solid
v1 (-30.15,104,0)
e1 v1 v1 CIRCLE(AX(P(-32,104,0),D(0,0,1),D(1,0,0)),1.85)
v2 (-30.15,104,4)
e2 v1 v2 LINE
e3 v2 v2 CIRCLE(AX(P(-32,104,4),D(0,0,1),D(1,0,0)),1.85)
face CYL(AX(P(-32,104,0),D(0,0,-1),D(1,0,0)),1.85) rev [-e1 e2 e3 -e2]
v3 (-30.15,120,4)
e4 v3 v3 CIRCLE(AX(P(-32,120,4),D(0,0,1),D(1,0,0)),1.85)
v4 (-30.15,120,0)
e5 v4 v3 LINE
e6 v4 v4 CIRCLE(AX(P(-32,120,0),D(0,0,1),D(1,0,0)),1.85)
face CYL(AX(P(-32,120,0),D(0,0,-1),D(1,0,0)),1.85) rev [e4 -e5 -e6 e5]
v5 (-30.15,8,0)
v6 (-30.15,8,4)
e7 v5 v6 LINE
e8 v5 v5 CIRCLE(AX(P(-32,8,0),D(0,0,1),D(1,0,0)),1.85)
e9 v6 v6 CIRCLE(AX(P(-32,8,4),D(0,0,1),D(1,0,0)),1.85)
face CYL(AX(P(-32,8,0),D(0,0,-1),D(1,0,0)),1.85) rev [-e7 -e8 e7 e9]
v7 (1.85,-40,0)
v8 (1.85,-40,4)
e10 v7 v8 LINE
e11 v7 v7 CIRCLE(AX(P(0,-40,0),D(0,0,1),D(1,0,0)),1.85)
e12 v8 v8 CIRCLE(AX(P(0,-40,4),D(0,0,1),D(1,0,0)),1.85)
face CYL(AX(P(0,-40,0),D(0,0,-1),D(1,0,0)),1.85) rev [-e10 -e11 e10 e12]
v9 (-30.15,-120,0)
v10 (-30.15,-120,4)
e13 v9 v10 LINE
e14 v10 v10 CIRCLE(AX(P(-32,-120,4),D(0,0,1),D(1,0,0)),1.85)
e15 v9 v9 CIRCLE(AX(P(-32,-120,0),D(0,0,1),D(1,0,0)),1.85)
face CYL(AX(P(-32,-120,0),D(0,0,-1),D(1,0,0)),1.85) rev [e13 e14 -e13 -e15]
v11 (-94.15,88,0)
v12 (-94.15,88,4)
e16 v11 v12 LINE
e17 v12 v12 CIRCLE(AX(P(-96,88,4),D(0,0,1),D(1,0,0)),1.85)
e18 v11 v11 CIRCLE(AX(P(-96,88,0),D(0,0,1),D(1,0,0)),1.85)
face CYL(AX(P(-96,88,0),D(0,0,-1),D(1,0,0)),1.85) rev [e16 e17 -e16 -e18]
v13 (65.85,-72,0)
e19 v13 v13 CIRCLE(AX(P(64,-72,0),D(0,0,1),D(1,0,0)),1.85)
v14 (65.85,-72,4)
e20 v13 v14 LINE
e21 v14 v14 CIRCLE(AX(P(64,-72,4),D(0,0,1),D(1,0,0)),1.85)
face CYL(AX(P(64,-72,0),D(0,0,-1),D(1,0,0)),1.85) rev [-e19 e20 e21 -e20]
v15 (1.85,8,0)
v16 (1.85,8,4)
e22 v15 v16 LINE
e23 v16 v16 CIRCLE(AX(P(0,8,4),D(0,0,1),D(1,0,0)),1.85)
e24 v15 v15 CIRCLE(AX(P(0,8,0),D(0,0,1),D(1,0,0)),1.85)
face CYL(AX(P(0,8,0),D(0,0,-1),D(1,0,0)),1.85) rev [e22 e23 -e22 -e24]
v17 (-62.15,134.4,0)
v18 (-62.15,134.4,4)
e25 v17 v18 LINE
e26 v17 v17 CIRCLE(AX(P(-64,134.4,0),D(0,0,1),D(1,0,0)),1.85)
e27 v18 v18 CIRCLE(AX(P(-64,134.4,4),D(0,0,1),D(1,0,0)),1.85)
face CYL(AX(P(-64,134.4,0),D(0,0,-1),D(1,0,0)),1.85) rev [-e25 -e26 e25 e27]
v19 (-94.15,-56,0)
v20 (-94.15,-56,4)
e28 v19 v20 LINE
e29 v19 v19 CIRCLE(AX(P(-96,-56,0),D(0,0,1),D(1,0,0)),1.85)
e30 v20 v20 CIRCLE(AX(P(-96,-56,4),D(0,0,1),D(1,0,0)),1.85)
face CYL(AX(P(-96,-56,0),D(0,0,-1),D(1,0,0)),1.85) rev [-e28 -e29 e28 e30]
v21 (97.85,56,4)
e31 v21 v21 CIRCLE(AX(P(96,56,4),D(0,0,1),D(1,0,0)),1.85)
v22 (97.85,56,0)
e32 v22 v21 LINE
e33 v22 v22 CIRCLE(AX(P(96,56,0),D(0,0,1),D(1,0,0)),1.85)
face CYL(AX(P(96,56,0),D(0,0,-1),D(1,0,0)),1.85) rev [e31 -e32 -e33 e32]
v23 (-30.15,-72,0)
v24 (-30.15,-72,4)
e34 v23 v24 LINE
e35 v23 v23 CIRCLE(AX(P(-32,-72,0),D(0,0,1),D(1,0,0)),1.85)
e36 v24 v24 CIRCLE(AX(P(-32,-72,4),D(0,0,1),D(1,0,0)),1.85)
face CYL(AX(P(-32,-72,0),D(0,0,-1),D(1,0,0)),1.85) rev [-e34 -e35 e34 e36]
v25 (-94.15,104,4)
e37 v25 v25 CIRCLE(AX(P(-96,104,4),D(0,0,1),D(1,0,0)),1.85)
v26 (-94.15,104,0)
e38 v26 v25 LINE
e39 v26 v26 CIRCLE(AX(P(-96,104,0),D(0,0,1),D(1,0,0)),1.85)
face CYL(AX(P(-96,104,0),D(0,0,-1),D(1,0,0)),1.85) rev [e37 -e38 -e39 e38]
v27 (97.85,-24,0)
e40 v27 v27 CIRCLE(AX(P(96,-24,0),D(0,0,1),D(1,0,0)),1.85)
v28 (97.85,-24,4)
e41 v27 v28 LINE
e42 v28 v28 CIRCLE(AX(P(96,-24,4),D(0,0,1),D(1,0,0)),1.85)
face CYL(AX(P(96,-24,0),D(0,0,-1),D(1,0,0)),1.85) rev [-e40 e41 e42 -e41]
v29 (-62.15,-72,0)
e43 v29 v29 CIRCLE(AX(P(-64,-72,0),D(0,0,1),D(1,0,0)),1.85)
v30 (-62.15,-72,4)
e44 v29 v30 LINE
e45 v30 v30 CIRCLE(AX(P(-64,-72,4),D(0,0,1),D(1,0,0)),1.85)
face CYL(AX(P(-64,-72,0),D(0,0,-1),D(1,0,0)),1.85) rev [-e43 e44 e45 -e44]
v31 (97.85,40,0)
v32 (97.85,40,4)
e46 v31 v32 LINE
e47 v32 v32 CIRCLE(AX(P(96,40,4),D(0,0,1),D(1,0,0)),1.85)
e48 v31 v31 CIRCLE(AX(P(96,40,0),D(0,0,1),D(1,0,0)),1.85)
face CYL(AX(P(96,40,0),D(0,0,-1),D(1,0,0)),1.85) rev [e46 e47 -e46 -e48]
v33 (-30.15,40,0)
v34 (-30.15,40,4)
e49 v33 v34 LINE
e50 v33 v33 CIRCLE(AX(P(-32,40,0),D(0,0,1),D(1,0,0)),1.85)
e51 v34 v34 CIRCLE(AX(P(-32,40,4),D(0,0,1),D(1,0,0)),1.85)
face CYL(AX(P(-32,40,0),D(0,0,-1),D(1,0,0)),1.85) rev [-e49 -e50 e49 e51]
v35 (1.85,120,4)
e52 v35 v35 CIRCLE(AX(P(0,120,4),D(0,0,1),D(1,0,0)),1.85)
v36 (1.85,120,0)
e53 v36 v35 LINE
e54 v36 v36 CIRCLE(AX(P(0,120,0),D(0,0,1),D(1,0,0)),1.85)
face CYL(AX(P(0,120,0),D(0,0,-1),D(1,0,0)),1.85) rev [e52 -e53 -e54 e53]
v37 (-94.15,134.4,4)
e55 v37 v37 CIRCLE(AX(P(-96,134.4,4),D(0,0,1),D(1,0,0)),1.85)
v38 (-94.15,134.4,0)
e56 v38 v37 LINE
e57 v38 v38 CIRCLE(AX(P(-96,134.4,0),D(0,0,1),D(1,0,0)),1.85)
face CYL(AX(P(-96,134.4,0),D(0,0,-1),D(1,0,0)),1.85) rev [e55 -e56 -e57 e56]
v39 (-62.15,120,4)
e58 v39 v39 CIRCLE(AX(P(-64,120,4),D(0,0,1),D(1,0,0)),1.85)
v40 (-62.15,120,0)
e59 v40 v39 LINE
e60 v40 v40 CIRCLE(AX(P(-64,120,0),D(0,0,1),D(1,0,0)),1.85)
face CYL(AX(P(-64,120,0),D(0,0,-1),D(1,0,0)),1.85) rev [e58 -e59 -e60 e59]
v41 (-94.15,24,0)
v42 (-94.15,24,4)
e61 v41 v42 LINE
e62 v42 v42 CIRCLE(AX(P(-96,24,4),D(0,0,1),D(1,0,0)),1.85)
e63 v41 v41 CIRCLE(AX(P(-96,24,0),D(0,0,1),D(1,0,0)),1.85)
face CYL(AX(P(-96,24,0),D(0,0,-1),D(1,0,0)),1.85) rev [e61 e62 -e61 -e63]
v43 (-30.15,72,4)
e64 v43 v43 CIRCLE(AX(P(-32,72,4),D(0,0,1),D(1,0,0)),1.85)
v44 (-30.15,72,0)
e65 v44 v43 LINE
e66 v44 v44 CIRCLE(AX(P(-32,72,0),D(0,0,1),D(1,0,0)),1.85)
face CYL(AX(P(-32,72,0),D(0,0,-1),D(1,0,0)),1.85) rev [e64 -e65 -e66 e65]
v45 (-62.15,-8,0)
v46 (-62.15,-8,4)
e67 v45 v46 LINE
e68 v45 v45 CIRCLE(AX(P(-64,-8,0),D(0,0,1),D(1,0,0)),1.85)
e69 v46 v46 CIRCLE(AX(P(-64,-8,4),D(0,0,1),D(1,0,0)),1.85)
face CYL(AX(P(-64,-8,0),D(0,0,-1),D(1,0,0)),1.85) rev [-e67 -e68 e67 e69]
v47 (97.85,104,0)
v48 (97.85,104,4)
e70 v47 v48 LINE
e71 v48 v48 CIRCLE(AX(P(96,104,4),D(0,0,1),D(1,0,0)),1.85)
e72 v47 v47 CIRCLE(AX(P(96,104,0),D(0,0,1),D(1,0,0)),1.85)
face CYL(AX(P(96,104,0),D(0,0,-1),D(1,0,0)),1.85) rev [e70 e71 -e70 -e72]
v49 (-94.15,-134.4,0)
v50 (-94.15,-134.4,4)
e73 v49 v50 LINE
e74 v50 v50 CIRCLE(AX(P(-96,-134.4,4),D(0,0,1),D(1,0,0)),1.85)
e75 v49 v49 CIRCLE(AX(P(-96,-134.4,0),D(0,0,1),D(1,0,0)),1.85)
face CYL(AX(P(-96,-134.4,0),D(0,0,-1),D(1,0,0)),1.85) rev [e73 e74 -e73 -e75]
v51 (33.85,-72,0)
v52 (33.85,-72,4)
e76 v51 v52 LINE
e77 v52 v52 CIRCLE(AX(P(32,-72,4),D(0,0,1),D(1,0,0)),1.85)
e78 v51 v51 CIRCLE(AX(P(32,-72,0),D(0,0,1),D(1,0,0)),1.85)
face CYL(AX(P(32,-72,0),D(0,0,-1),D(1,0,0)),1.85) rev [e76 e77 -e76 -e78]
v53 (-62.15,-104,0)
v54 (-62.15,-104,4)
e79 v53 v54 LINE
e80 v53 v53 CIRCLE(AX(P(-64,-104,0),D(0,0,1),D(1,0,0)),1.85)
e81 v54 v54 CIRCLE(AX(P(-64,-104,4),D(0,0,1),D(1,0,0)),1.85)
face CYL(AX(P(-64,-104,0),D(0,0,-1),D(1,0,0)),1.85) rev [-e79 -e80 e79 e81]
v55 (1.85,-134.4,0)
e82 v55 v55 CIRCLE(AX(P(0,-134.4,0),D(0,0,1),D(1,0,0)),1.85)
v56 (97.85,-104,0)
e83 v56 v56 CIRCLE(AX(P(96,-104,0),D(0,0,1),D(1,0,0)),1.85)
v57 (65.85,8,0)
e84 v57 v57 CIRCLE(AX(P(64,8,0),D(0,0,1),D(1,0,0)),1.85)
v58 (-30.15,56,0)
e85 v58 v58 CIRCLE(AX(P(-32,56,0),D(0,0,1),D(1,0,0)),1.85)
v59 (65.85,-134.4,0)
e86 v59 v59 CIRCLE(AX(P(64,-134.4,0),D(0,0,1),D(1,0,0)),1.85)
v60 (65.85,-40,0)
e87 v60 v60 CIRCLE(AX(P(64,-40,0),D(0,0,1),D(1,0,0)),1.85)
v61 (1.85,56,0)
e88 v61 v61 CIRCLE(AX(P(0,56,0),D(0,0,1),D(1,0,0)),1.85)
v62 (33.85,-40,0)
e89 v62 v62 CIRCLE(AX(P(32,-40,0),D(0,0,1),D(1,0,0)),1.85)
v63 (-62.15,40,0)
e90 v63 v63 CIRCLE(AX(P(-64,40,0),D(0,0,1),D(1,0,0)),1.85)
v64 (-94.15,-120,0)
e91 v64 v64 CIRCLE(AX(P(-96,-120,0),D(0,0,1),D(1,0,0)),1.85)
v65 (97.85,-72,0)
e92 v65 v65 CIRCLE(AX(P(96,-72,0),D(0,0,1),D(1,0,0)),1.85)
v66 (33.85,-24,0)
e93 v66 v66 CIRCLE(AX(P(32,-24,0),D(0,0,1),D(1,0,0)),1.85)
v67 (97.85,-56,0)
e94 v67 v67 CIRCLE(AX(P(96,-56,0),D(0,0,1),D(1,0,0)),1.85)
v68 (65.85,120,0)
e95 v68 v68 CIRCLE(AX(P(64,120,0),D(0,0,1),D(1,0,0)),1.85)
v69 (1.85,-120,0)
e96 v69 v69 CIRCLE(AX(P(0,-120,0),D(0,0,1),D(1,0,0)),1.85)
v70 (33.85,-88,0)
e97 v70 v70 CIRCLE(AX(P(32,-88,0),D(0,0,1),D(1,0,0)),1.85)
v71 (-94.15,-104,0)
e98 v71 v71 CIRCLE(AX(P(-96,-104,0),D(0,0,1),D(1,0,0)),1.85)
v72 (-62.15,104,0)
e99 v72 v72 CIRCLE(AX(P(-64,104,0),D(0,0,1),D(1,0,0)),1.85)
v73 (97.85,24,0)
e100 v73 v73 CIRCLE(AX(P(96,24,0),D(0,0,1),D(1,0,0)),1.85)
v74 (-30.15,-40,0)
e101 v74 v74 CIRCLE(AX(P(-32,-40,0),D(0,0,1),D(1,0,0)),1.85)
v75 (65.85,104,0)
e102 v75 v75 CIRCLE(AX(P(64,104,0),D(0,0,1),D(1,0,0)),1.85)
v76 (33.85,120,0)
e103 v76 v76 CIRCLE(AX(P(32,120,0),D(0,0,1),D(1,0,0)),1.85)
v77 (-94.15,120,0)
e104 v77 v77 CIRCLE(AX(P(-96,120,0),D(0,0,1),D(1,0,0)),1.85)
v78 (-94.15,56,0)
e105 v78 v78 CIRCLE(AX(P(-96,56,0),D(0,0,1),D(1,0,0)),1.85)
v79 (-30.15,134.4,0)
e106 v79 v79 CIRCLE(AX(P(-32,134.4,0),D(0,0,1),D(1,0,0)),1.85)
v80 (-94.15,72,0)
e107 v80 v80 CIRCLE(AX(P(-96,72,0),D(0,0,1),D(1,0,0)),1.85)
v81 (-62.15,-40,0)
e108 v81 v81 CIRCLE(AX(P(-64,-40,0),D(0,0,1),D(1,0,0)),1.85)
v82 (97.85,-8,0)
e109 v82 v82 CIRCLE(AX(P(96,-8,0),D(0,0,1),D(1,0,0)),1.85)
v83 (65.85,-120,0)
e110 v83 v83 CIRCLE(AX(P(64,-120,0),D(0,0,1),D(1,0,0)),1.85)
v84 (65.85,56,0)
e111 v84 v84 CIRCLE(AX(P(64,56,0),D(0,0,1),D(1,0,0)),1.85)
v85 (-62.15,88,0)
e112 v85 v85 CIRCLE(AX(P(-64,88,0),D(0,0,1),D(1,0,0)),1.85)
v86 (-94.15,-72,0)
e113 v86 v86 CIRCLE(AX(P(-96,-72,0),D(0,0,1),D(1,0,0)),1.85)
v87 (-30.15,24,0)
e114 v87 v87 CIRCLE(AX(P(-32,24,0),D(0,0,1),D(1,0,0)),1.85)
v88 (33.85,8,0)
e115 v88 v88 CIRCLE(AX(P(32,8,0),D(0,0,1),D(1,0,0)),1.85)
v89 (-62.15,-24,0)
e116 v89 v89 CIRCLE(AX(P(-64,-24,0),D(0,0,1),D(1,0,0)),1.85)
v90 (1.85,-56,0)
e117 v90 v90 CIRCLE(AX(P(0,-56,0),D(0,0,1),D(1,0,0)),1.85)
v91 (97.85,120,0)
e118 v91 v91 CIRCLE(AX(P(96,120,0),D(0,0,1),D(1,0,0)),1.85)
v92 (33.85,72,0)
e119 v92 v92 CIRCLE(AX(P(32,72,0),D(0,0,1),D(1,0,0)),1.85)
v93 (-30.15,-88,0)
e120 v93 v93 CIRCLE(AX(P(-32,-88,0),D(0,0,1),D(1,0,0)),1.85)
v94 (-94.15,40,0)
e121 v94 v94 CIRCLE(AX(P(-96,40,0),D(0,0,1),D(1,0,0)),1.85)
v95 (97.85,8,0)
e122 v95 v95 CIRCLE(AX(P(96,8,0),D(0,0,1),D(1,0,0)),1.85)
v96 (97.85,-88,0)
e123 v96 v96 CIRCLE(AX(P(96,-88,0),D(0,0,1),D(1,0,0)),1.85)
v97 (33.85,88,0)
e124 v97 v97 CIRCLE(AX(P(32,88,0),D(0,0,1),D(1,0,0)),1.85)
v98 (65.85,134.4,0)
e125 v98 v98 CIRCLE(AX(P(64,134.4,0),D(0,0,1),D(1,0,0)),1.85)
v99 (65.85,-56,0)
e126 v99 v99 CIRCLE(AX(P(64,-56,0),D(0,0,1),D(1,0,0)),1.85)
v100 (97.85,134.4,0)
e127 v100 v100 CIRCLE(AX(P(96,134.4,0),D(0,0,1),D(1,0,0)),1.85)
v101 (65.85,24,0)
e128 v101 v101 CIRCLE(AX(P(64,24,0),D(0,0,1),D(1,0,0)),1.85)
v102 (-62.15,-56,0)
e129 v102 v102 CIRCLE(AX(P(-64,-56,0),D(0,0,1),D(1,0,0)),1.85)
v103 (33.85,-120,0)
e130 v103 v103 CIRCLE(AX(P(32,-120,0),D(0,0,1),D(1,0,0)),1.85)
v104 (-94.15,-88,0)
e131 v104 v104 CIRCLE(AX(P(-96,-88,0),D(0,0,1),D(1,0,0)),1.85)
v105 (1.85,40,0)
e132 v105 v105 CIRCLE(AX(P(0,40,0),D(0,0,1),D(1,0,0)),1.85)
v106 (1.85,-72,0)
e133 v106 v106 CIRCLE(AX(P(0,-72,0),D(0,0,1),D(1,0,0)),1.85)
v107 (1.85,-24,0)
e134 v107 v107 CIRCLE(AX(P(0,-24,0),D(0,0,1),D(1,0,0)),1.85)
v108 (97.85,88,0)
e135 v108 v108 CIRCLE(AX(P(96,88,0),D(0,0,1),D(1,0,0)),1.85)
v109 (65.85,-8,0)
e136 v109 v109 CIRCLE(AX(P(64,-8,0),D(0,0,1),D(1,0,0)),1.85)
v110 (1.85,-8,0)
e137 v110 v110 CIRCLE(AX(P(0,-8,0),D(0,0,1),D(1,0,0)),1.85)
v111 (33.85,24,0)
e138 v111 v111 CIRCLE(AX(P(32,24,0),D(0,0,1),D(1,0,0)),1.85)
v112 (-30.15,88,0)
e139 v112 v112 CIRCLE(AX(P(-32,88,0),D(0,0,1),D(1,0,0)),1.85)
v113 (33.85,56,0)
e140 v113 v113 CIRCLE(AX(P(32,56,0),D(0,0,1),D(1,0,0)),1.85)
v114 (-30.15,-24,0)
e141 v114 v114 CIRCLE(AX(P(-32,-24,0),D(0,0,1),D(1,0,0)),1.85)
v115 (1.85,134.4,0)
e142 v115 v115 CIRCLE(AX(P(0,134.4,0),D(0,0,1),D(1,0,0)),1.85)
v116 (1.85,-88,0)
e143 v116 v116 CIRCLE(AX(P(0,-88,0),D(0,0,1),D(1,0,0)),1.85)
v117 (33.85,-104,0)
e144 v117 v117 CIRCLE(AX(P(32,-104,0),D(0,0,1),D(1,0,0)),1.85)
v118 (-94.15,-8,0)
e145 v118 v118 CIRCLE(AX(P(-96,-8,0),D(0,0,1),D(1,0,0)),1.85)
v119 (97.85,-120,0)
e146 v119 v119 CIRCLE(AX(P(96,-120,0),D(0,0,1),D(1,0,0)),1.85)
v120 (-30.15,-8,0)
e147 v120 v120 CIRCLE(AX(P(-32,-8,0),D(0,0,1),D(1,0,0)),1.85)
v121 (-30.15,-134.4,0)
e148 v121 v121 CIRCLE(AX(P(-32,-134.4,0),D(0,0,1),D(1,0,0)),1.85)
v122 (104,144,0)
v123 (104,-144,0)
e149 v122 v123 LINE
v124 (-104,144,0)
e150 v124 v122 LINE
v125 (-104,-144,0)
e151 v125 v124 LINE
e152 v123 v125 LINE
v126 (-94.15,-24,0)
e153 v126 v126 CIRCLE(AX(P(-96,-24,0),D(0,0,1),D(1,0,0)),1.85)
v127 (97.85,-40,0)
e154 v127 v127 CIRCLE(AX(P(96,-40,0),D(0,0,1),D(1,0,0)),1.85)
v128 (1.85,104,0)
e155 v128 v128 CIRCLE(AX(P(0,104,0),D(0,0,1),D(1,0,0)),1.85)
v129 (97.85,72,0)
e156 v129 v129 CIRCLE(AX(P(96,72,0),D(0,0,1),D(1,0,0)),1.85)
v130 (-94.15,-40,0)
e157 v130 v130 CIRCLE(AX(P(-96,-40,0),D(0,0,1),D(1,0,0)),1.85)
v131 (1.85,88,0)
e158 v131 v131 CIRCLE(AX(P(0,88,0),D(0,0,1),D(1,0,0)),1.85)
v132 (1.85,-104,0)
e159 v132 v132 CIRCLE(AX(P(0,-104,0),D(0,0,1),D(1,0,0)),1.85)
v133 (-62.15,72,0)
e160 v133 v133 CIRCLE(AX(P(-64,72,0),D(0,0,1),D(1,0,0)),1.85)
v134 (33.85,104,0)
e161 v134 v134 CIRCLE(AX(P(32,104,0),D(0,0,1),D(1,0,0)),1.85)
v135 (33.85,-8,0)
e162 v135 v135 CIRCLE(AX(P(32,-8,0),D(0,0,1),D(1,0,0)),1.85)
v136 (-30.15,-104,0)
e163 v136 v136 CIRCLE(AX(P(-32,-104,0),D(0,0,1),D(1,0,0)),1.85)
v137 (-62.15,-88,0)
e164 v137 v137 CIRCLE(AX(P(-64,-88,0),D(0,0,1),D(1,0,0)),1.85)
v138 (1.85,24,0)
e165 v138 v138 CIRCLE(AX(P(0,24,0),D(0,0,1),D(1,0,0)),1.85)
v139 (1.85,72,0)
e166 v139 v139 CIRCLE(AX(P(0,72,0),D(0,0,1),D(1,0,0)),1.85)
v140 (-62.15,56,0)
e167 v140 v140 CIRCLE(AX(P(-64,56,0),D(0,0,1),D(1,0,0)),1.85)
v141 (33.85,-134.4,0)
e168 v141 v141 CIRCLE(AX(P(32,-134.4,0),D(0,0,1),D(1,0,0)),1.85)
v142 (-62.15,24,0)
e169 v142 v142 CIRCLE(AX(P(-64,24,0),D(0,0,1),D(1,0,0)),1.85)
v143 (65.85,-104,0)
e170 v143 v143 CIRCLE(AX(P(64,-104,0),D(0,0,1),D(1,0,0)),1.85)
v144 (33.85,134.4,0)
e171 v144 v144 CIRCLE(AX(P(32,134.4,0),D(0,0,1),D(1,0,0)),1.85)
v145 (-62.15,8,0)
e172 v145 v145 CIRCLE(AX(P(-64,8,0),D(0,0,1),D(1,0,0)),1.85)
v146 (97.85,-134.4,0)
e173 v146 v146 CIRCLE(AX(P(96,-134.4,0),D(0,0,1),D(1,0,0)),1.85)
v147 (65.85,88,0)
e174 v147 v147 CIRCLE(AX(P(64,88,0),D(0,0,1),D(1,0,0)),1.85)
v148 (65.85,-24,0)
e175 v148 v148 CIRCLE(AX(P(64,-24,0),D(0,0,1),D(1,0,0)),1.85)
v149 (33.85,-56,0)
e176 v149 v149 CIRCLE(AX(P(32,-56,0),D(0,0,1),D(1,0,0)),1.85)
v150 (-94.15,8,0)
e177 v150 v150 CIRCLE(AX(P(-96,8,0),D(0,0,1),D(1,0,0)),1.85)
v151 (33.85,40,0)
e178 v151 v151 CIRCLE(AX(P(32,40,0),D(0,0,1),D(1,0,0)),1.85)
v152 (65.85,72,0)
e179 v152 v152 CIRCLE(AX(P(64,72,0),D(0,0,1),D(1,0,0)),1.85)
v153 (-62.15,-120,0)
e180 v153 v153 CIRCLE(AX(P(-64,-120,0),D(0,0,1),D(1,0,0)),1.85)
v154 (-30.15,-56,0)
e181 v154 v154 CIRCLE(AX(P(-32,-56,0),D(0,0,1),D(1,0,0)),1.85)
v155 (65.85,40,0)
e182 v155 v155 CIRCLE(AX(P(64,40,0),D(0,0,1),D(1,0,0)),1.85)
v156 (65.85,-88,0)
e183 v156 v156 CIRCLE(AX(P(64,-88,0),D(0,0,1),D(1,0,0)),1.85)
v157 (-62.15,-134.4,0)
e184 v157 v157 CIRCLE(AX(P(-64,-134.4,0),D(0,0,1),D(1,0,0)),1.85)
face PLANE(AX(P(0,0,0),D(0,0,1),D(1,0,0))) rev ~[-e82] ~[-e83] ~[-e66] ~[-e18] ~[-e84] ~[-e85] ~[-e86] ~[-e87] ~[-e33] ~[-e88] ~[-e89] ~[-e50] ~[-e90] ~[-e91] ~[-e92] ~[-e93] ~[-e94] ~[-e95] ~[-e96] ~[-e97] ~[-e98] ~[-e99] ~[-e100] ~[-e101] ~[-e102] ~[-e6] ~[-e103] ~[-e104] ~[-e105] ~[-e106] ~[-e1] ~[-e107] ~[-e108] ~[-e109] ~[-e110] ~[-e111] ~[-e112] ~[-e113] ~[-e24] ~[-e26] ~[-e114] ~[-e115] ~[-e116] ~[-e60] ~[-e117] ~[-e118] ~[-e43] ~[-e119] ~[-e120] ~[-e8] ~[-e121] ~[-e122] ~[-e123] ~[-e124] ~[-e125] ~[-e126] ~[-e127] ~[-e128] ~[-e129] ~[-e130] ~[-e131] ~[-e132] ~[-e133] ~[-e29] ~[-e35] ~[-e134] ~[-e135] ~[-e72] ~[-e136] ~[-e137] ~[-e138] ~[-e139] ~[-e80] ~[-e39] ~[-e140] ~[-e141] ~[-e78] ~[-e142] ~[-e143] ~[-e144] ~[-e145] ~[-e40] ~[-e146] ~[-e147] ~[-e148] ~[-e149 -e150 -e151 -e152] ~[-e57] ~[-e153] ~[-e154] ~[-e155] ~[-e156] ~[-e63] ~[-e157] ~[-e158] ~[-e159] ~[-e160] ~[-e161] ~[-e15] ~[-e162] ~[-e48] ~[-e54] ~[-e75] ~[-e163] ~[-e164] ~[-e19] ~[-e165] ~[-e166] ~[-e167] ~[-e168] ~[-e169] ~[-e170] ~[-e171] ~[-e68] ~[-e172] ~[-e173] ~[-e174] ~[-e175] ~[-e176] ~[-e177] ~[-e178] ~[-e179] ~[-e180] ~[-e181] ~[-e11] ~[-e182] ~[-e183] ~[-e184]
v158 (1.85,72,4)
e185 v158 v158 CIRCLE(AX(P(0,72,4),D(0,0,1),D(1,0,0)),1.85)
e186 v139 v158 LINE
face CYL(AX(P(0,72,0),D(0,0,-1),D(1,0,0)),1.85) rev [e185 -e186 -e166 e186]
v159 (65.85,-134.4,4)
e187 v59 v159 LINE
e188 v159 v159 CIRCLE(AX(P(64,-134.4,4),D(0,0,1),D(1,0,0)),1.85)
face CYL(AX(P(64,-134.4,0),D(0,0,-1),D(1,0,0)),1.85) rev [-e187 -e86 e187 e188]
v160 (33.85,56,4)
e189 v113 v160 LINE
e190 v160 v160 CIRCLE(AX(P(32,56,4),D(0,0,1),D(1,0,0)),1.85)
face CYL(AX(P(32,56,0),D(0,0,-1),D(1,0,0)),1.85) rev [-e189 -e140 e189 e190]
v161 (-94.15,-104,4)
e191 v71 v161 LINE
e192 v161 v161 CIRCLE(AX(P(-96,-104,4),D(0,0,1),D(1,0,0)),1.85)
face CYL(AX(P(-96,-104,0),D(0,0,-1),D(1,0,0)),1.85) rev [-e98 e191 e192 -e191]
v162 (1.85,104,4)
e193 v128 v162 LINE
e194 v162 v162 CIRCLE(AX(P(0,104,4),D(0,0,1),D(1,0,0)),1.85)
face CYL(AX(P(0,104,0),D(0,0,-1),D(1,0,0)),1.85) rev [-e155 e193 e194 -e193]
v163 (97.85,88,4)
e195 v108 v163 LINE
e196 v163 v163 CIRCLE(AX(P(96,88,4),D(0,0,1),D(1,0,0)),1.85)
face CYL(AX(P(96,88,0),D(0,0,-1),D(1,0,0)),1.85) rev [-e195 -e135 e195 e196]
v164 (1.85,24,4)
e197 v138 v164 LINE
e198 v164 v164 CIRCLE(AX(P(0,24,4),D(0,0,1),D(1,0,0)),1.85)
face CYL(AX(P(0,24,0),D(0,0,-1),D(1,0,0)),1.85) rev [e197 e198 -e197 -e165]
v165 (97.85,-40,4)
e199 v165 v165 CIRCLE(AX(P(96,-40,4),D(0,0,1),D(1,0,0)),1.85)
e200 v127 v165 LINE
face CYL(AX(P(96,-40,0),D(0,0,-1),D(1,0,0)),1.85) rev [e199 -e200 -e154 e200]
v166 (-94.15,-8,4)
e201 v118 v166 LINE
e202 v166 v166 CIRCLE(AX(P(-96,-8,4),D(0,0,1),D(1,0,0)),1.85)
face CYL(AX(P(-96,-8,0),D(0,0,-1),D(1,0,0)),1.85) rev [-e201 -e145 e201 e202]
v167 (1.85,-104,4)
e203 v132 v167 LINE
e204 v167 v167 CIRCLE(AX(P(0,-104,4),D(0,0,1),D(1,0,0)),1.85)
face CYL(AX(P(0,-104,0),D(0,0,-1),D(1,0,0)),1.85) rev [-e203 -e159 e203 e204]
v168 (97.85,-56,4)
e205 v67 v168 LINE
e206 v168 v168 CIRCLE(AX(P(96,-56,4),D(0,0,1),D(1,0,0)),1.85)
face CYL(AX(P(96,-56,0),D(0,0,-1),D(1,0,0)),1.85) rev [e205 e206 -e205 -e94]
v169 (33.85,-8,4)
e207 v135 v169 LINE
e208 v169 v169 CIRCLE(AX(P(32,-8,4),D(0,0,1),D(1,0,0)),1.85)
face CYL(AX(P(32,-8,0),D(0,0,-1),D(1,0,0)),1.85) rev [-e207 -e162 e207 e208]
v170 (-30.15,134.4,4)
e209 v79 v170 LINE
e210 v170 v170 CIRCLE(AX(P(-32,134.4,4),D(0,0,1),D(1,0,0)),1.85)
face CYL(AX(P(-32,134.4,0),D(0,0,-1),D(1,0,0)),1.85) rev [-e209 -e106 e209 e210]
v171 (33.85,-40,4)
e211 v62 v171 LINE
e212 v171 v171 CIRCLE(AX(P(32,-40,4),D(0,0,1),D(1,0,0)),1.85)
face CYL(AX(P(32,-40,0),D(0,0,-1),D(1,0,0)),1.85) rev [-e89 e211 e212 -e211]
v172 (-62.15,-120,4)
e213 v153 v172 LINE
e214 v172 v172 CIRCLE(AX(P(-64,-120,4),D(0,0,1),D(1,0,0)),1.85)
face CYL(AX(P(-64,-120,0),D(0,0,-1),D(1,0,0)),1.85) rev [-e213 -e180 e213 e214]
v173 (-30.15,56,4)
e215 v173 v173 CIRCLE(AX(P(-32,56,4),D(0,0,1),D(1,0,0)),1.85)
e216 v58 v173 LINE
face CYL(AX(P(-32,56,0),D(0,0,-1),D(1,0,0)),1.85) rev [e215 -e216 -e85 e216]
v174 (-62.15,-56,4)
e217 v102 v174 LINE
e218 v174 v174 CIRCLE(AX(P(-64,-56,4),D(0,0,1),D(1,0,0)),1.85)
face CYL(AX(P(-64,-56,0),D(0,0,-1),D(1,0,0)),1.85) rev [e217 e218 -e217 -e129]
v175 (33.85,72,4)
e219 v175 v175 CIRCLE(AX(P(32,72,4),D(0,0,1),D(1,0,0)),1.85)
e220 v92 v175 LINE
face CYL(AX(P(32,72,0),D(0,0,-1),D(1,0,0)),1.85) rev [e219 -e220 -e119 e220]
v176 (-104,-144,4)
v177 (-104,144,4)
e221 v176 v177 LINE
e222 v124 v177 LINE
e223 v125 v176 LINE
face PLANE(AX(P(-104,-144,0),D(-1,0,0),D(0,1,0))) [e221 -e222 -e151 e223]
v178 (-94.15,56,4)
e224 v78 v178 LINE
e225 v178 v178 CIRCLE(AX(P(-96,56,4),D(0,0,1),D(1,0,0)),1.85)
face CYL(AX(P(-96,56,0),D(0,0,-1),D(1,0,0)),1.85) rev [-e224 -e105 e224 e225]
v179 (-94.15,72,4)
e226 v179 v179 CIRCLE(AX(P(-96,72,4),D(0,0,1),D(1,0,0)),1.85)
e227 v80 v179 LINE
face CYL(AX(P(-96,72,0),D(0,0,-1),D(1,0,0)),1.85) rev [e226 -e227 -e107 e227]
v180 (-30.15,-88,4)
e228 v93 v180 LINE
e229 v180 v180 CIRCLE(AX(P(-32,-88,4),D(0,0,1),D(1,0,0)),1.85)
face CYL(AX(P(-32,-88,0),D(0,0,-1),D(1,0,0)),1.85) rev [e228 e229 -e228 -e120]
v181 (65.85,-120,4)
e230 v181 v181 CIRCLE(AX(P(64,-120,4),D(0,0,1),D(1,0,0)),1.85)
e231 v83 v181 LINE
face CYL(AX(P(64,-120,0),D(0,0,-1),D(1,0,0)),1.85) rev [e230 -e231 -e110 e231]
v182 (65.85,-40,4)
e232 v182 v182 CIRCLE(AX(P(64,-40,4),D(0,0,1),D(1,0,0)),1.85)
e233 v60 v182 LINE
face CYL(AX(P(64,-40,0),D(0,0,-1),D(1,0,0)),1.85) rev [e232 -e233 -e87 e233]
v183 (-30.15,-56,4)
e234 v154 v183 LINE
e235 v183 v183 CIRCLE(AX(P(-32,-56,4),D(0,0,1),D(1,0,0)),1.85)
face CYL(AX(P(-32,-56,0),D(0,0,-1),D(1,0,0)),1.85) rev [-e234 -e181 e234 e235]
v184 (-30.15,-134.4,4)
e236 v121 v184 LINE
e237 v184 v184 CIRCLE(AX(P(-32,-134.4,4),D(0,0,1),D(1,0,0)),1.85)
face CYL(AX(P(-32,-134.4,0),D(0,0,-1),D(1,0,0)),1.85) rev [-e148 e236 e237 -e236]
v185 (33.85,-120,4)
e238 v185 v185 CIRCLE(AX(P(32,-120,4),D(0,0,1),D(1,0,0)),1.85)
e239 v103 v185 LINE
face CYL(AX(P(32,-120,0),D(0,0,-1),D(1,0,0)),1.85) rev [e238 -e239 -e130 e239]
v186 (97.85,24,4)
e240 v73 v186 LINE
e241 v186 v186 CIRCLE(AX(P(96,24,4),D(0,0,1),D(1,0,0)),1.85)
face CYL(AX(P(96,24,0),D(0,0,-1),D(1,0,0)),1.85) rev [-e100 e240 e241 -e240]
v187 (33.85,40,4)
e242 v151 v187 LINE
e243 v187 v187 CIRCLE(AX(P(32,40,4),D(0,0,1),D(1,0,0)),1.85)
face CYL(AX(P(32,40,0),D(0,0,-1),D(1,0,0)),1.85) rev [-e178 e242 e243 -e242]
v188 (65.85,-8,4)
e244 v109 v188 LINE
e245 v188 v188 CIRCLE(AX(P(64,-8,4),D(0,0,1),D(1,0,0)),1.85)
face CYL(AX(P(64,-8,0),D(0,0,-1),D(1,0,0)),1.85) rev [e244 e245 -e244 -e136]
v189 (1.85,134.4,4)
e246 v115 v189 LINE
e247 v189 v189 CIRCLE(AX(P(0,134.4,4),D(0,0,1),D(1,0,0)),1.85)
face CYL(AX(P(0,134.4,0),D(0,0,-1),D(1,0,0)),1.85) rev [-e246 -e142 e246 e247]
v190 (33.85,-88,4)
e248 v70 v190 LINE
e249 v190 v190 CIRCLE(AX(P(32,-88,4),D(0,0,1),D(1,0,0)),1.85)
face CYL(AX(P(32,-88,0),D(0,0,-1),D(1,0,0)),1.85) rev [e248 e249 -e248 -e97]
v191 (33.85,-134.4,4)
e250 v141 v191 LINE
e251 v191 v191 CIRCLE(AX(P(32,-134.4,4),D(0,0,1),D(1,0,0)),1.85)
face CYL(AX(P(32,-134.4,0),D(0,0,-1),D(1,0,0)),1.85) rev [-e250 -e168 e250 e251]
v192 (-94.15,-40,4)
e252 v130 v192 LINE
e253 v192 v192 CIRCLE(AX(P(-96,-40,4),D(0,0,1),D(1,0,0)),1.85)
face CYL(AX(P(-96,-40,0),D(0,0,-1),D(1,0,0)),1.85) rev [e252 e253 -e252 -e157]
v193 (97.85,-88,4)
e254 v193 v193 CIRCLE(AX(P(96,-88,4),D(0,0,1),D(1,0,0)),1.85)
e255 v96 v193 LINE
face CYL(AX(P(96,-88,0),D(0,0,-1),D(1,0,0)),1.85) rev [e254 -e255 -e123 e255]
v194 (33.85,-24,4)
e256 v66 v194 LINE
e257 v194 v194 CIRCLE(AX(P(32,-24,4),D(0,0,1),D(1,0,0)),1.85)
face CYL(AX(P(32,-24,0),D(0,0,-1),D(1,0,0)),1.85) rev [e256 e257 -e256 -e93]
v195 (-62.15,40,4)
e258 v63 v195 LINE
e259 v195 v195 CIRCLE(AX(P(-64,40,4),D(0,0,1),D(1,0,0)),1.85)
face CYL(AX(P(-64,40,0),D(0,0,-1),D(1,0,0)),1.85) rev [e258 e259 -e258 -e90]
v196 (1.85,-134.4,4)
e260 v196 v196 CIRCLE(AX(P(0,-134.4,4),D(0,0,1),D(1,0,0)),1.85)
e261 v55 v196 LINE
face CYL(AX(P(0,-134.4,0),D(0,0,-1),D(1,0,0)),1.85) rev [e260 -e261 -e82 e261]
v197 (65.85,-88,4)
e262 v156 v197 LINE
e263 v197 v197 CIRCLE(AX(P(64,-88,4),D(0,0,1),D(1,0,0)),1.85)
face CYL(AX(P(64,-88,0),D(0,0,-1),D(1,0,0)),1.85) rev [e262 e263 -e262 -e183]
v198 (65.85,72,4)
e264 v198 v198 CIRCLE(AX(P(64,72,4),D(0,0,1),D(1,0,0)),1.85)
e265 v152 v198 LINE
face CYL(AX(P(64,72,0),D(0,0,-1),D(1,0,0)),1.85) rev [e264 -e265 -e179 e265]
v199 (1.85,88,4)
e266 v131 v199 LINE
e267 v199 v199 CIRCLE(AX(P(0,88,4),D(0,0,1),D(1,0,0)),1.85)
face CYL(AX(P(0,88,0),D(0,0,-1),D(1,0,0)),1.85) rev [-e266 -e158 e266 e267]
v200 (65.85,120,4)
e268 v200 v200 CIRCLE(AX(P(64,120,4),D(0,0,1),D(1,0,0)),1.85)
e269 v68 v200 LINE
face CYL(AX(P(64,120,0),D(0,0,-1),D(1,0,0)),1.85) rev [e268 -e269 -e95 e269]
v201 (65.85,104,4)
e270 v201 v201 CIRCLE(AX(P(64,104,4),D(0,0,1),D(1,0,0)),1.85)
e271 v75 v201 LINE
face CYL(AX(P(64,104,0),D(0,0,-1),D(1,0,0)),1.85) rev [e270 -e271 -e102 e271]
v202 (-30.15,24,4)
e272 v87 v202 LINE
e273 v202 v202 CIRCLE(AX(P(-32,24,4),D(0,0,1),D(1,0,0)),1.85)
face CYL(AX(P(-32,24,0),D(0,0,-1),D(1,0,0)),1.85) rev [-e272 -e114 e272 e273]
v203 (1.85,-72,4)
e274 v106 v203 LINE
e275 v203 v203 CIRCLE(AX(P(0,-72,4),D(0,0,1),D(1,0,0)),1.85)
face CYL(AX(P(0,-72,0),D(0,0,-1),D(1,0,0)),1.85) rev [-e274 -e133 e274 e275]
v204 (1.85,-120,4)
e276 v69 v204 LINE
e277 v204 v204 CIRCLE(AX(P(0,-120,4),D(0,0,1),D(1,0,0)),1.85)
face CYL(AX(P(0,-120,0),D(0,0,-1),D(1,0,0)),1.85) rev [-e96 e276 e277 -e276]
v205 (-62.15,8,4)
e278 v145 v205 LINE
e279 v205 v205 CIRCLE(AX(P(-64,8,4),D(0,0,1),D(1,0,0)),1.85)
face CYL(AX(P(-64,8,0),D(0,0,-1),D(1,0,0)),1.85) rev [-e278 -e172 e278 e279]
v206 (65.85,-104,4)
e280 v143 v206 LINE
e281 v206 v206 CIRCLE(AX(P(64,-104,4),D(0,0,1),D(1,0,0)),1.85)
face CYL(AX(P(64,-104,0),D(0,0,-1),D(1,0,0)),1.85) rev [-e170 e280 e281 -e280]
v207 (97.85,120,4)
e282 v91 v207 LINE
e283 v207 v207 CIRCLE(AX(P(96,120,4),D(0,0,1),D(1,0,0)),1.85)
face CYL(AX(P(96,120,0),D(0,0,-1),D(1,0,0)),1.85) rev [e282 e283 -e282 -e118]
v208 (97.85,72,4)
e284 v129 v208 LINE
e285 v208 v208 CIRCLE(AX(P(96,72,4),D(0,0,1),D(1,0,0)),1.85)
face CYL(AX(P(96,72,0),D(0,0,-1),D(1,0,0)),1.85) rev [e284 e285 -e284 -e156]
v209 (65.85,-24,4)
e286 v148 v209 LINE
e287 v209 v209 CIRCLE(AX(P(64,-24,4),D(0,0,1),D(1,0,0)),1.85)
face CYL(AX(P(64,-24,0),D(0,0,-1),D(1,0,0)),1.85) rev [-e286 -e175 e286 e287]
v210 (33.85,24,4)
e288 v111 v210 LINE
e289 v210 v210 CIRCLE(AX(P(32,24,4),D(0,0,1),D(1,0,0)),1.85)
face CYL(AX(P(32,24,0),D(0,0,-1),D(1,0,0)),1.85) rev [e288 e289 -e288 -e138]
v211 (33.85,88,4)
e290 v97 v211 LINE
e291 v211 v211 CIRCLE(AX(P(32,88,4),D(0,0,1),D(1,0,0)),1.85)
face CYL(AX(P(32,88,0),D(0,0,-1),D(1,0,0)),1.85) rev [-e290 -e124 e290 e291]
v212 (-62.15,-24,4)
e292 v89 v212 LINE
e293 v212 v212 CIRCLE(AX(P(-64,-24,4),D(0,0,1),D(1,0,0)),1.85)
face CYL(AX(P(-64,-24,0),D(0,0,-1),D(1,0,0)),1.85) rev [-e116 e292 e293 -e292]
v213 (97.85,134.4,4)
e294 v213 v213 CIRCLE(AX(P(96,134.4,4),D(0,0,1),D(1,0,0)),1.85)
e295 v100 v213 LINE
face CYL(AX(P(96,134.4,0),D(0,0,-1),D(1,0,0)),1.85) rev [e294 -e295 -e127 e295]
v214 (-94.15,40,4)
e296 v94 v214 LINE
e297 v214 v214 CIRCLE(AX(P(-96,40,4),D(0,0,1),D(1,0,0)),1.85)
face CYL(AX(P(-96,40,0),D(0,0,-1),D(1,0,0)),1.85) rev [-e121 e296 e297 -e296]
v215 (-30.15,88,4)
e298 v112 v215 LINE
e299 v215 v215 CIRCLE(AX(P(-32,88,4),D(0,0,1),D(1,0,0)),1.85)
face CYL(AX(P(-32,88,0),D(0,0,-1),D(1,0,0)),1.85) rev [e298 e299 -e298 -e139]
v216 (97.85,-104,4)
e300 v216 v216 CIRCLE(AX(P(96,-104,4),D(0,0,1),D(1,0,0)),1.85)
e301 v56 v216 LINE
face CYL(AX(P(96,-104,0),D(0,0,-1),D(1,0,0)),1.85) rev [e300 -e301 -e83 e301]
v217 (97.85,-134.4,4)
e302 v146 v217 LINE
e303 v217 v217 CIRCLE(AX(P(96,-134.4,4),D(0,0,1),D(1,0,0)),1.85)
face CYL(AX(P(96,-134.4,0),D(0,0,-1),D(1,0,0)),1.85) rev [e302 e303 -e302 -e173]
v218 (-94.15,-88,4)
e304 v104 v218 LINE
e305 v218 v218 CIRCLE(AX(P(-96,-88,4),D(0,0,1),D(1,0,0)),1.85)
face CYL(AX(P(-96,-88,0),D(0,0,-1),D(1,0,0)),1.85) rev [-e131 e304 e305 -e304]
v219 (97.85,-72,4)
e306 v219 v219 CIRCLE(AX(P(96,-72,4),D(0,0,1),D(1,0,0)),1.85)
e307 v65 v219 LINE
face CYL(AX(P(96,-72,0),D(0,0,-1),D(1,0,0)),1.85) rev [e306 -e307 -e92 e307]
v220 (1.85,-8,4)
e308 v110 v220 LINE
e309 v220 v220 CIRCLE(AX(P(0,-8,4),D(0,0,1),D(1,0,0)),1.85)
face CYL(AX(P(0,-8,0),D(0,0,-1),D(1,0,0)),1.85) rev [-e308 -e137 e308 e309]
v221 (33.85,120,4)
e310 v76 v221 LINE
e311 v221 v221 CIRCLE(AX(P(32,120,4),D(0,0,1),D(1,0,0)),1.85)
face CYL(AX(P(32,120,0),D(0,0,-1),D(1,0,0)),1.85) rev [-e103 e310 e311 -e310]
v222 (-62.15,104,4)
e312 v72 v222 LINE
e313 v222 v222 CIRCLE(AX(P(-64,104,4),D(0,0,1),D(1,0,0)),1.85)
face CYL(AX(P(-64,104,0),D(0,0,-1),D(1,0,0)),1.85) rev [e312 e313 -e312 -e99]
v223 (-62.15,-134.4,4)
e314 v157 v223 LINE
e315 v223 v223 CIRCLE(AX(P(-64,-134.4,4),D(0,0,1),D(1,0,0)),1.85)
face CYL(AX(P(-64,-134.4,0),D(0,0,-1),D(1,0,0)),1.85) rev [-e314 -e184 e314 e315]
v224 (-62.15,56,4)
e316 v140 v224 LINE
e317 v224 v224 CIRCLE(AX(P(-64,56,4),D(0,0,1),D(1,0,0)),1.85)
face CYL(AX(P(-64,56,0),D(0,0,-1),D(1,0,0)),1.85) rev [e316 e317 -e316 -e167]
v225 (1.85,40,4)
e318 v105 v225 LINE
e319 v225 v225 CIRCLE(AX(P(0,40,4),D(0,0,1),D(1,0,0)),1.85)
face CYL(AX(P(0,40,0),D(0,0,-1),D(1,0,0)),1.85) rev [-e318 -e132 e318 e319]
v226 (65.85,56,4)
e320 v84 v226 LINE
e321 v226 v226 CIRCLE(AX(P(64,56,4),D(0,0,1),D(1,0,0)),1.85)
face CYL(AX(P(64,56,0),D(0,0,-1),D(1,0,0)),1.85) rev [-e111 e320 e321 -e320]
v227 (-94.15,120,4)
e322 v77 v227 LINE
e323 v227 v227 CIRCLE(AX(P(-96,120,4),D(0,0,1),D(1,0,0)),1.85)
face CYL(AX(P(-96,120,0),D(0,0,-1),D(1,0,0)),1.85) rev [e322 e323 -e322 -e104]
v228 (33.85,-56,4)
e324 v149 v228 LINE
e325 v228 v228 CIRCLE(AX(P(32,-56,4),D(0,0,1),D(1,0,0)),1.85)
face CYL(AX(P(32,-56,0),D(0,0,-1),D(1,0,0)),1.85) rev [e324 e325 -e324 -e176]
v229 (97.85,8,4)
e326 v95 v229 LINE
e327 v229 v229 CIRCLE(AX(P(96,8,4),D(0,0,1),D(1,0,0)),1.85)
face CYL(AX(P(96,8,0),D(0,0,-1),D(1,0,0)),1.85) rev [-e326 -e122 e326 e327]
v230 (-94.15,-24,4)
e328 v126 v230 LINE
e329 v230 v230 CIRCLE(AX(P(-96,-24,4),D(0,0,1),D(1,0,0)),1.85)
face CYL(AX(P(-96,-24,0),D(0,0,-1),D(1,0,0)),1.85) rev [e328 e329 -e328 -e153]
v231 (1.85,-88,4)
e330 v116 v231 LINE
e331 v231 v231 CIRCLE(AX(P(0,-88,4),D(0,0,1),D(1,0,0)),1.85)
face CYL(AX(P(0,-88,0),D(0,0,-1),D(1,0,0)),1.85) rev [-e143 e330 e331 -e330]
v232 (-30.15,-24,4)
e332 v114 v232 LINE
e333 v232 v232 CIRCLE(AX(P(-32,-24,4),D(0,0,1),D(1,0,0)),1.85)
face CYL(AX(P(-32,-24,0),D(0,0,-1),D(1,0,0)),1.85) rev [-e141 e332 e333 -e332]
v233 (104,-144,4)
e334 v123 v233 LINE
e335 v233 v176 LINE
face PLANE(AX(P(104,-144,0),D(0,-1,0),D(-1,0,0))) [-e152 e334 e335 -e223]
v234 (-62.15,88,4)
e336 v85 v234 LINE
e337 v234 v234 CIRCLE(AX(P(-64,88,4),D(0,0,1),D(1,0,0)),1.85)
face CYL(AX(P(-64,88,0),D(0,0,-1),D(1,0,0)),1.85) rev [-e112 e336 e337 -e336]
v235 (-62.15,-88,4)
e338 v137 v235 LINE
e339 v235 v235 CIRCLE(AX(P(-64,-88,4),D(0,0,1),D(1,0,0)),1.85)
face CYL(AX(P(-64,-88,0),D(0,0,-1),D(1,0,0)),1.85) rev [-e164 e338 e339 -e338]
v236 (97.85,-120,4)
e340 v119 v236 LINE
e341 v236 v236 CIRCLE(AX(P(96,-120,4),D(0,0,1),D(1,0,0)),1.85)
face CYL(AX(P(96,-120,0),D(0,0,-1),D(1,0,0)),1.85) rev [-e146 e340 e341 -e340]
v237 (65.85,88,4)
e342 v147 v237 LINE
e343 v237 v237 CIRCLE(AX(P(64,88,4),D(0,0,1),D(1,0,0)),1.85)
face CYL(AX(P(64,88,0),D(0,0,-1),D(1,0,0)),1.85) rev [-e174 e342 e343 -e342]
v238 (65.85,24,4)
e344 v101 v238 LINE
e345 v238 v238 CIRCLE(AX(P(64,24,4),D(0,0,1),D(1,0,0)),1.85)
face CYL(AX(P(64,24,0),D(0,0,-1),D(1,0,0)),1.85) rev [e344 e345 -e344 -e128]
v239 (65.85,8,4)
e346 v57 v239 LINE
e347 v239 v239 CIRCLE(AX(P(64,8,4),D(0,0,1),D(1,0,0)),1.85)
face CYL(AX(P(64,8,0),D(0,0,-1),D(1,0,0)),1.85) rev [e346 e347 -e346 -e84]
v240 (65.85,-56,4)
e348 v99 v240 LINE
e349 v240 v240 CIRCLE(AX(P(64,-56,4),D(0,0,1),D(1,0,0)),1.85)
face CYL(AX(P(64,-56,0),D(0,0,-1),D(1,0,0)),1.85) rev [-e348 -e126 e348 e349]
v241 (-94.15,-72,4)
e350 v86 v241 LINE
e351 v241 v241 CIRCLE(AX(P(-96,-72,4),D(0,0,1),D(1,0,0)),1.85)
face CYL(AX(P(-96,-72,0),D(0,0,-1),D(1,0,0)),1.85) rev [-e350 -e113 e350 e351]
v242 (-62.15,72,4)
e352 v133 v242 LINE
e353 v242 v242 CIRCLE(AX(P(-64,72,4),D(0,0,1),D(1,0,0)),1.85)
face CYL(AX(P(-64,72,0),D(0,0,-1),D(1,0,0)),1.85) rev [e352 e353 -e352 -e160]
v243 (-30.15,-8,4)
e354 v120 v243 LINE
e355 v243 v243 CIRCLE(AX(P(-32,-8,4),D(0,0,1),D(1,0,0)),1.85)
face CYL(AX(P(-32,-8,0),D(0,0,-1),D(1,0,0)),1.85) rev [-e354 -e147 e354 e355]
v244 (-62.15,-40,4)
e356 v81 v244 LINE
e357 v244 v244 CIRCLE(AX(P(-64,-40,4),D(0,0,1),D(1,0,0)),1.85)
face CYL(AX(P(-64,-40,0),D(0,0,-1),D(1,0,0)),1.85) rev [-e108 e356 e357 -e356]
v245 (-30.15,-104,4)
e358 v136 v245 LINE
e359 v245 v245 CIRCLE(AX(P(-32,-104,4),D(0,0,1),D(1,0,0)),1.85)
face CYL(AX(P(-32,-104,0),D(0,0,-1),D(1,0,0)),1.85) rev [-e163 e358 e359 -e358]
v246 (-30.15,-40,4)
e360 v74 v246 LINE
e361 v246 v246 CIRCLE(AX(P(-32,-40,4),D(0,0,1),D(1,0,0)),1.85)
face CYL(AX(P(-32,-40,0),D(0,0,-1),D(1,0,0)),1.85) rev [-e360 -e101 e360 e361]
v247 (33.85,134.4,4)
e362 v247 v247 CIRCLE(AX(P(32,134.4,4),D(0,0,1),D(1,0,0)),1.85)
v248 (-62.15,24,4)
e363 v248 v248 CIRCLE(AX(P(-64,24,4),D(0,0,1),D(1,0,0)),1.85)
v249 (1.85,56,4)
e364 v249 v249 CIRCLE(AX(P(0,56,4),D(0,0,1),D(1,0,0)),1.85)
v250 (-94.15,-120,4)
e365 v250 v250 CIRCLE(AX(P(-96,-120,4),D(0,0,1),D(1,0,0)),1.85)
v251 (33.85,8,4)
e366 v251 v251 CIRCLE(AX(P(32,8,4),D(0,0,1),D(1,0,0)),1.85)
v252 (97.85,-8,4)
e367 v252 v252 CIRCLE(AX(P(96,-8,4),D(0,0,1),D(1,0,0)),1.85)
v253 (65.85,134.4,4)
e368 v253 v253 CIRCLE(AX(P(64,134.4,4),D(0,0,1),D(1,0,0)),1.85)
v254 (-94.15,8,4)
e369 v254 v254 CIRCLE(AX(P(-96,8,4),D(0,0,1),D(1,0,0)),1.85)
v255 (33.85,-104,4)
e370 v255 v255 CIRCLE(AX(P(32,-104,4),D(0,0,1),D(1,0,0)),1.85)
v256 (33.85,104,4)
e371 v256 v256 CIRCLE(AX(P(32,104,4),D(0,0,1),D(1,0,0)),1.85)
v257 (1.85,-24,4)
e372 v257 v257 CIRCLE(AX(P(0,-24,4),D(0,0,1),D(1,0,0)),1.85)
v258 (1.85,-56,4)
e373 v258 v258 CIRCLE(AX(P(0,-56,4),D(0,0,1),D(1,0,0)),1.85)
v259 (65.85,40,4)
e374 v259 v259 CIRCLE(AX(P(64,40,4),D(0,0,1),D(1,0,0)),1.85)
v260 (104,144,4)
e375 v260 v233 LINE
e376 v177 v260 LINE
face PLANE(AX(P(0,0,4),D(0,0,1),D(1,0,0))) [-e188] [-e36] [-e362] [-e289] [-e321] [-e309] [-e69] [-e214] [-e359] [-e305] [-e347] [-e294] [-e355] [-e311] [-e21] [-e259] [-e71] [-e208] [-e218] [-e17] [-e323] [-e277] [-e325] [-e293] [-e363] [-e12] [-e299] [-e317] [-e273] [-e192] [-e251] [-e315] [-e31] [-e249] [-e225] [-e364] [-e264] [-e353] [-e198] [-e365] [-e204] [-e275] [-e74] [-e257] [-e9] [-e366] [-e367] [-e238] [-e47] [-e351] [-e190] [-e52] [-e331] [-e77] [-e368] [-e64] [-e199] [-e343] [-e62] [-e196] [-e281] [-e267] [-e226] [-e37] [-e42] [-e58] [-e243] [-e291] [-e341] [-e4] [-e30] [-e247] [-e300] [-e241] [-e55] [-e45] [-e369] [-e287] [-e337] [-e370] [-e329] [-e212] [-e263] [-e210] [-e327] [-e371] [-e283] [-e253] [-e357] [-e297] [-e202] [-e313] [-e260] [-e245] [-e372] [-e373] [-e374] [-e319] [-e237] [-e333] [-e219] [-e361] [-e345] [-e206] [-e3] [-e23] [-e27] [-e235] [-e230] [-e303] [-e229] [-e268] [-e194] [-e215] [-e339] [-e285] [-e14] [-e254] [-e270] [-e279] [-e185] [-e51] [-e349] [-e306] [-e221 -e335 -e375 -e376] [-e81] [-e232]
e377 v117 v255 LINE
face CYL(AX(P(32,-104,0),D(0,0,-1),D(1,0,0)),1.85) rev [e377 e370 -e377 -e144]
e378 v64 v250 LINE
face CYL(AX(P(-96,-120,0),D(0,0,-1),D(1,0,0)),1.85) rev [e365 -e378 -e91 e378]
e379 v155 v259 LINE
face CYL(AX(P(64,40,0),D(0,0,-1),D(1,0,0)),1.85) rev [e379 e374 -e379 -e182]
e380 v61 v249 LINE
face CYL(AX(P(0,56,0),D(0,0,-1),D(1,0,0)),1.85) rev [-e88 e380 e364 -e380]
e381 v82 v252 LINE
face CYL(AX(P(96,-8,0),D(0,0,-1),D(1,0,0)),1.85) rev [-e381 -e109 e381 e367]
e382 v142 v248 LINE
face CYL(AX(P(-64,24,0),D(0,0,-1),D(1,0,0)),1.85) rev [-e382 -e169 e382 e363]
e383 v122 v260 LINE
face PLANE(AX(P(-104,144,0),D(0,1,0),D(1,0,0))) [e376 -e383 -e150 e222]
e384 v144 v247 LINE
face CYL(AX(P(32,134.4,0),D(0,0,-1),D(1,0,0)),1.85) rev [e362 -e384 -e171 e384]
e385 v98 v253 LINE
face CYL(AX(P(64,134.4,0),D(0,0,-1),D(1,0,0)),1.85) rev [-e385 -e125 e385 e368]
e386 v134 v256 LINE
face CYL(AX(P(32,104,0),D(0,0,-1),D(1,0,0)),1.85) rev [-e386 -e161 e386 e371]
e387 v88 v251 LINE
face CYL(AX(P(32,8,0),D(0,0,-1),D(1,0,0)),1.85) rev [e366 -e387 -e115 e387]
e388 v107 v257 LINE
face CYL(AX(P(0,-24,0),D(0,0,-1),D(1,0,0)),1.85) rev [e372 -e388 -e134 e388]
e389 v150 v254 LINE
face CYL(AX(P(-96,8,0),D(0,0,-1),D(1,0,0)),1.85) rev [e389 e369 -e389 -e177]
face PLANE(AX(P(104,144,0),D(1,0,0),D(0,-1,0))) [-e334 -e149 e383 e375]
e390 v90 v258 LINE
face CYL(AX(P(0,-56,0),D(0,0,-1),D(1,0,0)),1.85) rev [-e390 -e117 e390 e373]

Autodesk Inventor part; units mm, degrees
ref_plane "YZ Plane" through (0, 0, 0) normal (1, 0, 0) x (0, 1, 0)
ref_plane "XZ Plane" through (0, 0, 0) normal (0, 1, 0) x (-1, 0, 0)
ref_plane "XY Plane" through (0, 0, 0) normal (0, 0, 1) x (1, 0, 0)
sketch "Sketch1" plane through (0, 0, 0) normal (0, 0, 1) x (1, 0, 0)
  line L0 (104, -144) -> (-104, -144)
  line L1 (-104, -144) -> (-104, 144)
  line L2 (-104, 144) -> (104, 144)
  line L3 (104, 144) -> (104, -144)
  line L4 (104, -144) -> (-104, 144) construction
  line L5 (-104, -144) -> (104, 144) construction
  circle A0 centre (96, 134.4) radius 1.85
  circle A1 centre (64, 134.4) radius 1.85
  circle A2 centre (32, 134.4) radius 1.85
  circle A3 centre (0, 134.4) radius 1.85
  circle A4 centre (-32, 134.4) radius 1.85
  circle A5 centre (-64, 134.4) radius 1.85
  circle A6 centre (-96, 134.4) radius 1.85
  circle A7 centre (64, -134.4) radius 1.85
  circle A8 centre (32, -134.4) radius 1.85
  circle A9 centre (96, -134.4) radius 1.85
  circle A10 centre (0, -134.4) radius 1.85
  circle A11 centre (-32, -134.4) radius 1.85
  circle A12 centre (-96, -134.4) radius 1.85
  line L6 (104, 144) -> (-104, -144) construction
  line L7 (-104, 144) -> (104, -144) construction
  circle A13 centre (-64, -134.4) radius 1.85
  circle A14 centre (0, -8) radius 1.85 projected
  circle A15 centre (0, 8) radius 1.85 projected
  circle A16 centre (-96, 8) radius 1.85 projected
  circle A17 centre (-96, -8) radius 1.85 projected
  circle A18 centre (96, 8) radius 1.85 projected
  circle A19 centre (96, -8) radius 1.85 projected
  circle A20 centre (64, -8) radius 1.85 projected
  circle A21 centre (64, 8) radius 1.85 projected
  circle A22 centre (32, -8) radius 1.85 projected
  circle A23 centre (32, 8) radius 1.85 projected
  circle A24 centre (-32, -8) radius 1.85 projected
  circle A25 centre (-32, 8) radius 1.85 projected
  circle A26 centre (-64, -8) radius 1.85 projected
  circle A27 centre (-64, 8) radius 1.85 projected
  circle A28 centre (-96, 120) radius 1.85 projected
  circle A29 centre (-96, 104) radius 1.85 projected
  circle A30 centre (-96, 88) radius 1.85 projected
  circle A31 centre (-96, 56) radius 1.85 projected
  circle A32 centre (-96, 40) radius 1.85 projected
  circle A33 centre (-96, 24) radius 1.85 projected
  circle A34 centre (-64, 24) radius 1.85 projected
  circle A35 centre (-64, 56) radius 1.85 projected
  circle A36 centre (-64, 40) radius 1.85 projected
  circle A37 centre (-64, 88) radius 1.85 projected
  circle A38 centre (-64, 72) radius 1.85 projected
  circle A39 centre (-64, 120) radius 1.85 projected
  circle A40 centre (-64, 104) radius 1.85 projected
  circle A41 centre (-32, 120) radius 1.85 projected
  circle A42 centre (-32, 104) radius 1.85 projected
  circle A43 centre (-32, 88) radius 1.85 projected
  circle A44 centre (-32, 72) radius 1.85 projected
  circle A45 centre (0, 88) radius 1.85 projected
  circle A46 centre (0, 104) radius 1.85 projected
  circle A47 centre (0, 120) radius 1.85 projected
  circle A48 centre (32, 120) radius 1.85 projected
  circle A49 centre (32, 104) radius 1.85 projected
  circle A50 centre (64, 120) radius 1.85 projected
  circle A51 centre (64, 104) radius 1.85 projected
  circle A52 centre (64, 88) radius 1.85 projected
  circle A53 centre (32, 88) radius 1.85 projected
  circle A54 centre (32, 72) radius 1.85 projected
  circle A55 centre (64, 72) radius 1.85 projected
  circle A56 centre (0, 72) radius 1.85 projected
  circle A57 centre (-32, 56) radius 1.85 projected
  circle A58 centre (-32, 40) radius 1.85 projected
  circle A59 centre (0, 56) radius 1.85 projected
  circle A60 centre (0, 40) radius 1.85 projected
  circle A61 centre (32, 56) radius 1.85 projected
  circle A62 centre (32, 40) radius 1.85 projected
  circle A63 centre (64, 56) radius 1.85 projected
  circle A64 centre (64, 40) radius 1.85 projected
  circle A65 centre (64, 24) radius 1.85 projected
  circle A66 centre (32, 24) radius 1.85 projected
  circle A67 centre (0, 24) radius 1.85 projected
  circle A68 centre (-32, 24) radius 1.85 projected
  circle A69 centre (-96, 72) radius 1.85 projected
  circle A70 centre (64, -24) radius 1.85 projected
  circle A71 centre (64, -40) radius 1.85 projected
  circle A72 centre (32, -24) radius 1.85 projected
  circle A73 centre (32, -40) radius 1.85 projected
  circle A74 centre (32, -56) radius 1.85 projected
  circle A75 centre (64, -56) radius 1.85 projected
  circle A76 centre (64, -72) radius 1.85 projected
  circle A77 centre (32, -72) radius 1.85 projected
  circle A78 centre (0, -40) radius 1.85 projected
  circle A79 centre (0, -24) radius 1.85 projected
  circle A80 centre (0, -56) radius 1.85 projected
  circle A81 centre (0, -72) radius 1.85 projected
  circle A82 centre (-32, -24) radius 1.85 projected
  circle A83 centre (-64, -24) radius 1.85 projected
  circle A84 centre (-96, -24) radius 1.85 projected
  circle A85 centre (-96, -40) radius 1.85 projected
  circle A86 centre (-64, -40) radius 1.85 projected
  circle A87 centre (-32, -40) radius 1.85 projected
  circle A88 centre (-32, -56) radius 1.85 projected
  circle A89 centre (-64, -56) radius 1.85 projected
  circle A90 centre (-96, -56) radius 1.85 projected
  circle A91 centre (-96, -72) radius 1.85 projected
  circle A92 centre (-64, -72) radius 1.85 projected
  circle A93 centre (-32, -72) radius 1.85 projected
  circle A94 centre (-32, -88) radius 1.85 projected
  circle A95 centre (0, -88) radius 1.85 projected
  circle A96 centre (32, -88) radius 1.85 projected
  circle A97 centre (64, -88) radius 1.85 projected
  circle A98 centre (64, -104) radius 1.85 projected
  circle A99 centre (32, -104) radius 1.85 projected
  circle A100 centre (0, -104) radius 1.85 projected
  circle A101 centre (-32, -104) radius 1.85 projected
  circle A102 centre (-64, -104) radius 1.85 projected
  circle A103 centre (-64, -88) radius 1.85 projected
  circle A104 centre (-96, -88) radius 1.85 projected
  circle A105 centre (-96, -104) radius 1.85 projected
  circle A106 centre (-96, -120) radius 1.85 projected
  circle A107 centre (-64, -120) radius 1.85 projected
  circle A108 centre (-32, -120) radius 1.85 projected
  circle A109 centre (0, -120) radius 1.85 projected
  circle A110 centre (32, -120) radius 1.85 projected
  circle A111 centre (64, -120) radius 1.85 projected
  circle A112 centre (96, 56) radius 1.85 projected
  circle A113 centre (96, 40) radius 1.85 projected
  circle A114 centre (96, 24) radius 1.85 projected
  circle A115 centre (96, -24) radius 1.85 projected
  circle A116 centre (96, -40) radius 1.85 projected
  circle A117 centre (96, -72) radius 1.85 projected
  circle A118 centre (96, -88) radius 1.85 projected
  circle A119 centre (96, -104) radius 1.85 projected
  circle A120 centre (96, -120) radius 1.85 projected
  circle A121 centre (96, -56) radius 1.85 projected
  circle A122 centre (96, 120) radius 1.85 projected
  circle A123 centre (96, 104) radius 1.85 projected
  circle A124 centre (96, 88) radius 1.85 projected
  circle A125 centre (96, 72) radius 1.85 projected
  dimension "d0" = 208
  dimension "d1" = 288
  dimension "d17" = 32
  dimension "d18" = 32
  dimension "d19" = 32
  dimension "d20" = 32
  dimension "d21" = 32
  dimension "d22" = 32
  dimension "d23" = 8
  dimension "d25" = 9.6
  dimension "d26" = 9.6
  dimension "d27" = 8
  dimension "d29" = 9.6
  dimension "d30" = 8
  dimension "d31" = 14.4
  dimension "d32" = 16
  dimension "d33" = 14.4
  dimension "d34" = 14.4
  dimension "d35" = 16
  dimension "d36" = 14.4
  dimension "d37" = 16
  dimension "d38" = 16
  dimension "d39" = 9.6
  dimension "d40" = 8
extrude "Extrusion8" add sketch "Sketch1" along normal blind 4
properties part number "KrackenPlate2dimensions"
